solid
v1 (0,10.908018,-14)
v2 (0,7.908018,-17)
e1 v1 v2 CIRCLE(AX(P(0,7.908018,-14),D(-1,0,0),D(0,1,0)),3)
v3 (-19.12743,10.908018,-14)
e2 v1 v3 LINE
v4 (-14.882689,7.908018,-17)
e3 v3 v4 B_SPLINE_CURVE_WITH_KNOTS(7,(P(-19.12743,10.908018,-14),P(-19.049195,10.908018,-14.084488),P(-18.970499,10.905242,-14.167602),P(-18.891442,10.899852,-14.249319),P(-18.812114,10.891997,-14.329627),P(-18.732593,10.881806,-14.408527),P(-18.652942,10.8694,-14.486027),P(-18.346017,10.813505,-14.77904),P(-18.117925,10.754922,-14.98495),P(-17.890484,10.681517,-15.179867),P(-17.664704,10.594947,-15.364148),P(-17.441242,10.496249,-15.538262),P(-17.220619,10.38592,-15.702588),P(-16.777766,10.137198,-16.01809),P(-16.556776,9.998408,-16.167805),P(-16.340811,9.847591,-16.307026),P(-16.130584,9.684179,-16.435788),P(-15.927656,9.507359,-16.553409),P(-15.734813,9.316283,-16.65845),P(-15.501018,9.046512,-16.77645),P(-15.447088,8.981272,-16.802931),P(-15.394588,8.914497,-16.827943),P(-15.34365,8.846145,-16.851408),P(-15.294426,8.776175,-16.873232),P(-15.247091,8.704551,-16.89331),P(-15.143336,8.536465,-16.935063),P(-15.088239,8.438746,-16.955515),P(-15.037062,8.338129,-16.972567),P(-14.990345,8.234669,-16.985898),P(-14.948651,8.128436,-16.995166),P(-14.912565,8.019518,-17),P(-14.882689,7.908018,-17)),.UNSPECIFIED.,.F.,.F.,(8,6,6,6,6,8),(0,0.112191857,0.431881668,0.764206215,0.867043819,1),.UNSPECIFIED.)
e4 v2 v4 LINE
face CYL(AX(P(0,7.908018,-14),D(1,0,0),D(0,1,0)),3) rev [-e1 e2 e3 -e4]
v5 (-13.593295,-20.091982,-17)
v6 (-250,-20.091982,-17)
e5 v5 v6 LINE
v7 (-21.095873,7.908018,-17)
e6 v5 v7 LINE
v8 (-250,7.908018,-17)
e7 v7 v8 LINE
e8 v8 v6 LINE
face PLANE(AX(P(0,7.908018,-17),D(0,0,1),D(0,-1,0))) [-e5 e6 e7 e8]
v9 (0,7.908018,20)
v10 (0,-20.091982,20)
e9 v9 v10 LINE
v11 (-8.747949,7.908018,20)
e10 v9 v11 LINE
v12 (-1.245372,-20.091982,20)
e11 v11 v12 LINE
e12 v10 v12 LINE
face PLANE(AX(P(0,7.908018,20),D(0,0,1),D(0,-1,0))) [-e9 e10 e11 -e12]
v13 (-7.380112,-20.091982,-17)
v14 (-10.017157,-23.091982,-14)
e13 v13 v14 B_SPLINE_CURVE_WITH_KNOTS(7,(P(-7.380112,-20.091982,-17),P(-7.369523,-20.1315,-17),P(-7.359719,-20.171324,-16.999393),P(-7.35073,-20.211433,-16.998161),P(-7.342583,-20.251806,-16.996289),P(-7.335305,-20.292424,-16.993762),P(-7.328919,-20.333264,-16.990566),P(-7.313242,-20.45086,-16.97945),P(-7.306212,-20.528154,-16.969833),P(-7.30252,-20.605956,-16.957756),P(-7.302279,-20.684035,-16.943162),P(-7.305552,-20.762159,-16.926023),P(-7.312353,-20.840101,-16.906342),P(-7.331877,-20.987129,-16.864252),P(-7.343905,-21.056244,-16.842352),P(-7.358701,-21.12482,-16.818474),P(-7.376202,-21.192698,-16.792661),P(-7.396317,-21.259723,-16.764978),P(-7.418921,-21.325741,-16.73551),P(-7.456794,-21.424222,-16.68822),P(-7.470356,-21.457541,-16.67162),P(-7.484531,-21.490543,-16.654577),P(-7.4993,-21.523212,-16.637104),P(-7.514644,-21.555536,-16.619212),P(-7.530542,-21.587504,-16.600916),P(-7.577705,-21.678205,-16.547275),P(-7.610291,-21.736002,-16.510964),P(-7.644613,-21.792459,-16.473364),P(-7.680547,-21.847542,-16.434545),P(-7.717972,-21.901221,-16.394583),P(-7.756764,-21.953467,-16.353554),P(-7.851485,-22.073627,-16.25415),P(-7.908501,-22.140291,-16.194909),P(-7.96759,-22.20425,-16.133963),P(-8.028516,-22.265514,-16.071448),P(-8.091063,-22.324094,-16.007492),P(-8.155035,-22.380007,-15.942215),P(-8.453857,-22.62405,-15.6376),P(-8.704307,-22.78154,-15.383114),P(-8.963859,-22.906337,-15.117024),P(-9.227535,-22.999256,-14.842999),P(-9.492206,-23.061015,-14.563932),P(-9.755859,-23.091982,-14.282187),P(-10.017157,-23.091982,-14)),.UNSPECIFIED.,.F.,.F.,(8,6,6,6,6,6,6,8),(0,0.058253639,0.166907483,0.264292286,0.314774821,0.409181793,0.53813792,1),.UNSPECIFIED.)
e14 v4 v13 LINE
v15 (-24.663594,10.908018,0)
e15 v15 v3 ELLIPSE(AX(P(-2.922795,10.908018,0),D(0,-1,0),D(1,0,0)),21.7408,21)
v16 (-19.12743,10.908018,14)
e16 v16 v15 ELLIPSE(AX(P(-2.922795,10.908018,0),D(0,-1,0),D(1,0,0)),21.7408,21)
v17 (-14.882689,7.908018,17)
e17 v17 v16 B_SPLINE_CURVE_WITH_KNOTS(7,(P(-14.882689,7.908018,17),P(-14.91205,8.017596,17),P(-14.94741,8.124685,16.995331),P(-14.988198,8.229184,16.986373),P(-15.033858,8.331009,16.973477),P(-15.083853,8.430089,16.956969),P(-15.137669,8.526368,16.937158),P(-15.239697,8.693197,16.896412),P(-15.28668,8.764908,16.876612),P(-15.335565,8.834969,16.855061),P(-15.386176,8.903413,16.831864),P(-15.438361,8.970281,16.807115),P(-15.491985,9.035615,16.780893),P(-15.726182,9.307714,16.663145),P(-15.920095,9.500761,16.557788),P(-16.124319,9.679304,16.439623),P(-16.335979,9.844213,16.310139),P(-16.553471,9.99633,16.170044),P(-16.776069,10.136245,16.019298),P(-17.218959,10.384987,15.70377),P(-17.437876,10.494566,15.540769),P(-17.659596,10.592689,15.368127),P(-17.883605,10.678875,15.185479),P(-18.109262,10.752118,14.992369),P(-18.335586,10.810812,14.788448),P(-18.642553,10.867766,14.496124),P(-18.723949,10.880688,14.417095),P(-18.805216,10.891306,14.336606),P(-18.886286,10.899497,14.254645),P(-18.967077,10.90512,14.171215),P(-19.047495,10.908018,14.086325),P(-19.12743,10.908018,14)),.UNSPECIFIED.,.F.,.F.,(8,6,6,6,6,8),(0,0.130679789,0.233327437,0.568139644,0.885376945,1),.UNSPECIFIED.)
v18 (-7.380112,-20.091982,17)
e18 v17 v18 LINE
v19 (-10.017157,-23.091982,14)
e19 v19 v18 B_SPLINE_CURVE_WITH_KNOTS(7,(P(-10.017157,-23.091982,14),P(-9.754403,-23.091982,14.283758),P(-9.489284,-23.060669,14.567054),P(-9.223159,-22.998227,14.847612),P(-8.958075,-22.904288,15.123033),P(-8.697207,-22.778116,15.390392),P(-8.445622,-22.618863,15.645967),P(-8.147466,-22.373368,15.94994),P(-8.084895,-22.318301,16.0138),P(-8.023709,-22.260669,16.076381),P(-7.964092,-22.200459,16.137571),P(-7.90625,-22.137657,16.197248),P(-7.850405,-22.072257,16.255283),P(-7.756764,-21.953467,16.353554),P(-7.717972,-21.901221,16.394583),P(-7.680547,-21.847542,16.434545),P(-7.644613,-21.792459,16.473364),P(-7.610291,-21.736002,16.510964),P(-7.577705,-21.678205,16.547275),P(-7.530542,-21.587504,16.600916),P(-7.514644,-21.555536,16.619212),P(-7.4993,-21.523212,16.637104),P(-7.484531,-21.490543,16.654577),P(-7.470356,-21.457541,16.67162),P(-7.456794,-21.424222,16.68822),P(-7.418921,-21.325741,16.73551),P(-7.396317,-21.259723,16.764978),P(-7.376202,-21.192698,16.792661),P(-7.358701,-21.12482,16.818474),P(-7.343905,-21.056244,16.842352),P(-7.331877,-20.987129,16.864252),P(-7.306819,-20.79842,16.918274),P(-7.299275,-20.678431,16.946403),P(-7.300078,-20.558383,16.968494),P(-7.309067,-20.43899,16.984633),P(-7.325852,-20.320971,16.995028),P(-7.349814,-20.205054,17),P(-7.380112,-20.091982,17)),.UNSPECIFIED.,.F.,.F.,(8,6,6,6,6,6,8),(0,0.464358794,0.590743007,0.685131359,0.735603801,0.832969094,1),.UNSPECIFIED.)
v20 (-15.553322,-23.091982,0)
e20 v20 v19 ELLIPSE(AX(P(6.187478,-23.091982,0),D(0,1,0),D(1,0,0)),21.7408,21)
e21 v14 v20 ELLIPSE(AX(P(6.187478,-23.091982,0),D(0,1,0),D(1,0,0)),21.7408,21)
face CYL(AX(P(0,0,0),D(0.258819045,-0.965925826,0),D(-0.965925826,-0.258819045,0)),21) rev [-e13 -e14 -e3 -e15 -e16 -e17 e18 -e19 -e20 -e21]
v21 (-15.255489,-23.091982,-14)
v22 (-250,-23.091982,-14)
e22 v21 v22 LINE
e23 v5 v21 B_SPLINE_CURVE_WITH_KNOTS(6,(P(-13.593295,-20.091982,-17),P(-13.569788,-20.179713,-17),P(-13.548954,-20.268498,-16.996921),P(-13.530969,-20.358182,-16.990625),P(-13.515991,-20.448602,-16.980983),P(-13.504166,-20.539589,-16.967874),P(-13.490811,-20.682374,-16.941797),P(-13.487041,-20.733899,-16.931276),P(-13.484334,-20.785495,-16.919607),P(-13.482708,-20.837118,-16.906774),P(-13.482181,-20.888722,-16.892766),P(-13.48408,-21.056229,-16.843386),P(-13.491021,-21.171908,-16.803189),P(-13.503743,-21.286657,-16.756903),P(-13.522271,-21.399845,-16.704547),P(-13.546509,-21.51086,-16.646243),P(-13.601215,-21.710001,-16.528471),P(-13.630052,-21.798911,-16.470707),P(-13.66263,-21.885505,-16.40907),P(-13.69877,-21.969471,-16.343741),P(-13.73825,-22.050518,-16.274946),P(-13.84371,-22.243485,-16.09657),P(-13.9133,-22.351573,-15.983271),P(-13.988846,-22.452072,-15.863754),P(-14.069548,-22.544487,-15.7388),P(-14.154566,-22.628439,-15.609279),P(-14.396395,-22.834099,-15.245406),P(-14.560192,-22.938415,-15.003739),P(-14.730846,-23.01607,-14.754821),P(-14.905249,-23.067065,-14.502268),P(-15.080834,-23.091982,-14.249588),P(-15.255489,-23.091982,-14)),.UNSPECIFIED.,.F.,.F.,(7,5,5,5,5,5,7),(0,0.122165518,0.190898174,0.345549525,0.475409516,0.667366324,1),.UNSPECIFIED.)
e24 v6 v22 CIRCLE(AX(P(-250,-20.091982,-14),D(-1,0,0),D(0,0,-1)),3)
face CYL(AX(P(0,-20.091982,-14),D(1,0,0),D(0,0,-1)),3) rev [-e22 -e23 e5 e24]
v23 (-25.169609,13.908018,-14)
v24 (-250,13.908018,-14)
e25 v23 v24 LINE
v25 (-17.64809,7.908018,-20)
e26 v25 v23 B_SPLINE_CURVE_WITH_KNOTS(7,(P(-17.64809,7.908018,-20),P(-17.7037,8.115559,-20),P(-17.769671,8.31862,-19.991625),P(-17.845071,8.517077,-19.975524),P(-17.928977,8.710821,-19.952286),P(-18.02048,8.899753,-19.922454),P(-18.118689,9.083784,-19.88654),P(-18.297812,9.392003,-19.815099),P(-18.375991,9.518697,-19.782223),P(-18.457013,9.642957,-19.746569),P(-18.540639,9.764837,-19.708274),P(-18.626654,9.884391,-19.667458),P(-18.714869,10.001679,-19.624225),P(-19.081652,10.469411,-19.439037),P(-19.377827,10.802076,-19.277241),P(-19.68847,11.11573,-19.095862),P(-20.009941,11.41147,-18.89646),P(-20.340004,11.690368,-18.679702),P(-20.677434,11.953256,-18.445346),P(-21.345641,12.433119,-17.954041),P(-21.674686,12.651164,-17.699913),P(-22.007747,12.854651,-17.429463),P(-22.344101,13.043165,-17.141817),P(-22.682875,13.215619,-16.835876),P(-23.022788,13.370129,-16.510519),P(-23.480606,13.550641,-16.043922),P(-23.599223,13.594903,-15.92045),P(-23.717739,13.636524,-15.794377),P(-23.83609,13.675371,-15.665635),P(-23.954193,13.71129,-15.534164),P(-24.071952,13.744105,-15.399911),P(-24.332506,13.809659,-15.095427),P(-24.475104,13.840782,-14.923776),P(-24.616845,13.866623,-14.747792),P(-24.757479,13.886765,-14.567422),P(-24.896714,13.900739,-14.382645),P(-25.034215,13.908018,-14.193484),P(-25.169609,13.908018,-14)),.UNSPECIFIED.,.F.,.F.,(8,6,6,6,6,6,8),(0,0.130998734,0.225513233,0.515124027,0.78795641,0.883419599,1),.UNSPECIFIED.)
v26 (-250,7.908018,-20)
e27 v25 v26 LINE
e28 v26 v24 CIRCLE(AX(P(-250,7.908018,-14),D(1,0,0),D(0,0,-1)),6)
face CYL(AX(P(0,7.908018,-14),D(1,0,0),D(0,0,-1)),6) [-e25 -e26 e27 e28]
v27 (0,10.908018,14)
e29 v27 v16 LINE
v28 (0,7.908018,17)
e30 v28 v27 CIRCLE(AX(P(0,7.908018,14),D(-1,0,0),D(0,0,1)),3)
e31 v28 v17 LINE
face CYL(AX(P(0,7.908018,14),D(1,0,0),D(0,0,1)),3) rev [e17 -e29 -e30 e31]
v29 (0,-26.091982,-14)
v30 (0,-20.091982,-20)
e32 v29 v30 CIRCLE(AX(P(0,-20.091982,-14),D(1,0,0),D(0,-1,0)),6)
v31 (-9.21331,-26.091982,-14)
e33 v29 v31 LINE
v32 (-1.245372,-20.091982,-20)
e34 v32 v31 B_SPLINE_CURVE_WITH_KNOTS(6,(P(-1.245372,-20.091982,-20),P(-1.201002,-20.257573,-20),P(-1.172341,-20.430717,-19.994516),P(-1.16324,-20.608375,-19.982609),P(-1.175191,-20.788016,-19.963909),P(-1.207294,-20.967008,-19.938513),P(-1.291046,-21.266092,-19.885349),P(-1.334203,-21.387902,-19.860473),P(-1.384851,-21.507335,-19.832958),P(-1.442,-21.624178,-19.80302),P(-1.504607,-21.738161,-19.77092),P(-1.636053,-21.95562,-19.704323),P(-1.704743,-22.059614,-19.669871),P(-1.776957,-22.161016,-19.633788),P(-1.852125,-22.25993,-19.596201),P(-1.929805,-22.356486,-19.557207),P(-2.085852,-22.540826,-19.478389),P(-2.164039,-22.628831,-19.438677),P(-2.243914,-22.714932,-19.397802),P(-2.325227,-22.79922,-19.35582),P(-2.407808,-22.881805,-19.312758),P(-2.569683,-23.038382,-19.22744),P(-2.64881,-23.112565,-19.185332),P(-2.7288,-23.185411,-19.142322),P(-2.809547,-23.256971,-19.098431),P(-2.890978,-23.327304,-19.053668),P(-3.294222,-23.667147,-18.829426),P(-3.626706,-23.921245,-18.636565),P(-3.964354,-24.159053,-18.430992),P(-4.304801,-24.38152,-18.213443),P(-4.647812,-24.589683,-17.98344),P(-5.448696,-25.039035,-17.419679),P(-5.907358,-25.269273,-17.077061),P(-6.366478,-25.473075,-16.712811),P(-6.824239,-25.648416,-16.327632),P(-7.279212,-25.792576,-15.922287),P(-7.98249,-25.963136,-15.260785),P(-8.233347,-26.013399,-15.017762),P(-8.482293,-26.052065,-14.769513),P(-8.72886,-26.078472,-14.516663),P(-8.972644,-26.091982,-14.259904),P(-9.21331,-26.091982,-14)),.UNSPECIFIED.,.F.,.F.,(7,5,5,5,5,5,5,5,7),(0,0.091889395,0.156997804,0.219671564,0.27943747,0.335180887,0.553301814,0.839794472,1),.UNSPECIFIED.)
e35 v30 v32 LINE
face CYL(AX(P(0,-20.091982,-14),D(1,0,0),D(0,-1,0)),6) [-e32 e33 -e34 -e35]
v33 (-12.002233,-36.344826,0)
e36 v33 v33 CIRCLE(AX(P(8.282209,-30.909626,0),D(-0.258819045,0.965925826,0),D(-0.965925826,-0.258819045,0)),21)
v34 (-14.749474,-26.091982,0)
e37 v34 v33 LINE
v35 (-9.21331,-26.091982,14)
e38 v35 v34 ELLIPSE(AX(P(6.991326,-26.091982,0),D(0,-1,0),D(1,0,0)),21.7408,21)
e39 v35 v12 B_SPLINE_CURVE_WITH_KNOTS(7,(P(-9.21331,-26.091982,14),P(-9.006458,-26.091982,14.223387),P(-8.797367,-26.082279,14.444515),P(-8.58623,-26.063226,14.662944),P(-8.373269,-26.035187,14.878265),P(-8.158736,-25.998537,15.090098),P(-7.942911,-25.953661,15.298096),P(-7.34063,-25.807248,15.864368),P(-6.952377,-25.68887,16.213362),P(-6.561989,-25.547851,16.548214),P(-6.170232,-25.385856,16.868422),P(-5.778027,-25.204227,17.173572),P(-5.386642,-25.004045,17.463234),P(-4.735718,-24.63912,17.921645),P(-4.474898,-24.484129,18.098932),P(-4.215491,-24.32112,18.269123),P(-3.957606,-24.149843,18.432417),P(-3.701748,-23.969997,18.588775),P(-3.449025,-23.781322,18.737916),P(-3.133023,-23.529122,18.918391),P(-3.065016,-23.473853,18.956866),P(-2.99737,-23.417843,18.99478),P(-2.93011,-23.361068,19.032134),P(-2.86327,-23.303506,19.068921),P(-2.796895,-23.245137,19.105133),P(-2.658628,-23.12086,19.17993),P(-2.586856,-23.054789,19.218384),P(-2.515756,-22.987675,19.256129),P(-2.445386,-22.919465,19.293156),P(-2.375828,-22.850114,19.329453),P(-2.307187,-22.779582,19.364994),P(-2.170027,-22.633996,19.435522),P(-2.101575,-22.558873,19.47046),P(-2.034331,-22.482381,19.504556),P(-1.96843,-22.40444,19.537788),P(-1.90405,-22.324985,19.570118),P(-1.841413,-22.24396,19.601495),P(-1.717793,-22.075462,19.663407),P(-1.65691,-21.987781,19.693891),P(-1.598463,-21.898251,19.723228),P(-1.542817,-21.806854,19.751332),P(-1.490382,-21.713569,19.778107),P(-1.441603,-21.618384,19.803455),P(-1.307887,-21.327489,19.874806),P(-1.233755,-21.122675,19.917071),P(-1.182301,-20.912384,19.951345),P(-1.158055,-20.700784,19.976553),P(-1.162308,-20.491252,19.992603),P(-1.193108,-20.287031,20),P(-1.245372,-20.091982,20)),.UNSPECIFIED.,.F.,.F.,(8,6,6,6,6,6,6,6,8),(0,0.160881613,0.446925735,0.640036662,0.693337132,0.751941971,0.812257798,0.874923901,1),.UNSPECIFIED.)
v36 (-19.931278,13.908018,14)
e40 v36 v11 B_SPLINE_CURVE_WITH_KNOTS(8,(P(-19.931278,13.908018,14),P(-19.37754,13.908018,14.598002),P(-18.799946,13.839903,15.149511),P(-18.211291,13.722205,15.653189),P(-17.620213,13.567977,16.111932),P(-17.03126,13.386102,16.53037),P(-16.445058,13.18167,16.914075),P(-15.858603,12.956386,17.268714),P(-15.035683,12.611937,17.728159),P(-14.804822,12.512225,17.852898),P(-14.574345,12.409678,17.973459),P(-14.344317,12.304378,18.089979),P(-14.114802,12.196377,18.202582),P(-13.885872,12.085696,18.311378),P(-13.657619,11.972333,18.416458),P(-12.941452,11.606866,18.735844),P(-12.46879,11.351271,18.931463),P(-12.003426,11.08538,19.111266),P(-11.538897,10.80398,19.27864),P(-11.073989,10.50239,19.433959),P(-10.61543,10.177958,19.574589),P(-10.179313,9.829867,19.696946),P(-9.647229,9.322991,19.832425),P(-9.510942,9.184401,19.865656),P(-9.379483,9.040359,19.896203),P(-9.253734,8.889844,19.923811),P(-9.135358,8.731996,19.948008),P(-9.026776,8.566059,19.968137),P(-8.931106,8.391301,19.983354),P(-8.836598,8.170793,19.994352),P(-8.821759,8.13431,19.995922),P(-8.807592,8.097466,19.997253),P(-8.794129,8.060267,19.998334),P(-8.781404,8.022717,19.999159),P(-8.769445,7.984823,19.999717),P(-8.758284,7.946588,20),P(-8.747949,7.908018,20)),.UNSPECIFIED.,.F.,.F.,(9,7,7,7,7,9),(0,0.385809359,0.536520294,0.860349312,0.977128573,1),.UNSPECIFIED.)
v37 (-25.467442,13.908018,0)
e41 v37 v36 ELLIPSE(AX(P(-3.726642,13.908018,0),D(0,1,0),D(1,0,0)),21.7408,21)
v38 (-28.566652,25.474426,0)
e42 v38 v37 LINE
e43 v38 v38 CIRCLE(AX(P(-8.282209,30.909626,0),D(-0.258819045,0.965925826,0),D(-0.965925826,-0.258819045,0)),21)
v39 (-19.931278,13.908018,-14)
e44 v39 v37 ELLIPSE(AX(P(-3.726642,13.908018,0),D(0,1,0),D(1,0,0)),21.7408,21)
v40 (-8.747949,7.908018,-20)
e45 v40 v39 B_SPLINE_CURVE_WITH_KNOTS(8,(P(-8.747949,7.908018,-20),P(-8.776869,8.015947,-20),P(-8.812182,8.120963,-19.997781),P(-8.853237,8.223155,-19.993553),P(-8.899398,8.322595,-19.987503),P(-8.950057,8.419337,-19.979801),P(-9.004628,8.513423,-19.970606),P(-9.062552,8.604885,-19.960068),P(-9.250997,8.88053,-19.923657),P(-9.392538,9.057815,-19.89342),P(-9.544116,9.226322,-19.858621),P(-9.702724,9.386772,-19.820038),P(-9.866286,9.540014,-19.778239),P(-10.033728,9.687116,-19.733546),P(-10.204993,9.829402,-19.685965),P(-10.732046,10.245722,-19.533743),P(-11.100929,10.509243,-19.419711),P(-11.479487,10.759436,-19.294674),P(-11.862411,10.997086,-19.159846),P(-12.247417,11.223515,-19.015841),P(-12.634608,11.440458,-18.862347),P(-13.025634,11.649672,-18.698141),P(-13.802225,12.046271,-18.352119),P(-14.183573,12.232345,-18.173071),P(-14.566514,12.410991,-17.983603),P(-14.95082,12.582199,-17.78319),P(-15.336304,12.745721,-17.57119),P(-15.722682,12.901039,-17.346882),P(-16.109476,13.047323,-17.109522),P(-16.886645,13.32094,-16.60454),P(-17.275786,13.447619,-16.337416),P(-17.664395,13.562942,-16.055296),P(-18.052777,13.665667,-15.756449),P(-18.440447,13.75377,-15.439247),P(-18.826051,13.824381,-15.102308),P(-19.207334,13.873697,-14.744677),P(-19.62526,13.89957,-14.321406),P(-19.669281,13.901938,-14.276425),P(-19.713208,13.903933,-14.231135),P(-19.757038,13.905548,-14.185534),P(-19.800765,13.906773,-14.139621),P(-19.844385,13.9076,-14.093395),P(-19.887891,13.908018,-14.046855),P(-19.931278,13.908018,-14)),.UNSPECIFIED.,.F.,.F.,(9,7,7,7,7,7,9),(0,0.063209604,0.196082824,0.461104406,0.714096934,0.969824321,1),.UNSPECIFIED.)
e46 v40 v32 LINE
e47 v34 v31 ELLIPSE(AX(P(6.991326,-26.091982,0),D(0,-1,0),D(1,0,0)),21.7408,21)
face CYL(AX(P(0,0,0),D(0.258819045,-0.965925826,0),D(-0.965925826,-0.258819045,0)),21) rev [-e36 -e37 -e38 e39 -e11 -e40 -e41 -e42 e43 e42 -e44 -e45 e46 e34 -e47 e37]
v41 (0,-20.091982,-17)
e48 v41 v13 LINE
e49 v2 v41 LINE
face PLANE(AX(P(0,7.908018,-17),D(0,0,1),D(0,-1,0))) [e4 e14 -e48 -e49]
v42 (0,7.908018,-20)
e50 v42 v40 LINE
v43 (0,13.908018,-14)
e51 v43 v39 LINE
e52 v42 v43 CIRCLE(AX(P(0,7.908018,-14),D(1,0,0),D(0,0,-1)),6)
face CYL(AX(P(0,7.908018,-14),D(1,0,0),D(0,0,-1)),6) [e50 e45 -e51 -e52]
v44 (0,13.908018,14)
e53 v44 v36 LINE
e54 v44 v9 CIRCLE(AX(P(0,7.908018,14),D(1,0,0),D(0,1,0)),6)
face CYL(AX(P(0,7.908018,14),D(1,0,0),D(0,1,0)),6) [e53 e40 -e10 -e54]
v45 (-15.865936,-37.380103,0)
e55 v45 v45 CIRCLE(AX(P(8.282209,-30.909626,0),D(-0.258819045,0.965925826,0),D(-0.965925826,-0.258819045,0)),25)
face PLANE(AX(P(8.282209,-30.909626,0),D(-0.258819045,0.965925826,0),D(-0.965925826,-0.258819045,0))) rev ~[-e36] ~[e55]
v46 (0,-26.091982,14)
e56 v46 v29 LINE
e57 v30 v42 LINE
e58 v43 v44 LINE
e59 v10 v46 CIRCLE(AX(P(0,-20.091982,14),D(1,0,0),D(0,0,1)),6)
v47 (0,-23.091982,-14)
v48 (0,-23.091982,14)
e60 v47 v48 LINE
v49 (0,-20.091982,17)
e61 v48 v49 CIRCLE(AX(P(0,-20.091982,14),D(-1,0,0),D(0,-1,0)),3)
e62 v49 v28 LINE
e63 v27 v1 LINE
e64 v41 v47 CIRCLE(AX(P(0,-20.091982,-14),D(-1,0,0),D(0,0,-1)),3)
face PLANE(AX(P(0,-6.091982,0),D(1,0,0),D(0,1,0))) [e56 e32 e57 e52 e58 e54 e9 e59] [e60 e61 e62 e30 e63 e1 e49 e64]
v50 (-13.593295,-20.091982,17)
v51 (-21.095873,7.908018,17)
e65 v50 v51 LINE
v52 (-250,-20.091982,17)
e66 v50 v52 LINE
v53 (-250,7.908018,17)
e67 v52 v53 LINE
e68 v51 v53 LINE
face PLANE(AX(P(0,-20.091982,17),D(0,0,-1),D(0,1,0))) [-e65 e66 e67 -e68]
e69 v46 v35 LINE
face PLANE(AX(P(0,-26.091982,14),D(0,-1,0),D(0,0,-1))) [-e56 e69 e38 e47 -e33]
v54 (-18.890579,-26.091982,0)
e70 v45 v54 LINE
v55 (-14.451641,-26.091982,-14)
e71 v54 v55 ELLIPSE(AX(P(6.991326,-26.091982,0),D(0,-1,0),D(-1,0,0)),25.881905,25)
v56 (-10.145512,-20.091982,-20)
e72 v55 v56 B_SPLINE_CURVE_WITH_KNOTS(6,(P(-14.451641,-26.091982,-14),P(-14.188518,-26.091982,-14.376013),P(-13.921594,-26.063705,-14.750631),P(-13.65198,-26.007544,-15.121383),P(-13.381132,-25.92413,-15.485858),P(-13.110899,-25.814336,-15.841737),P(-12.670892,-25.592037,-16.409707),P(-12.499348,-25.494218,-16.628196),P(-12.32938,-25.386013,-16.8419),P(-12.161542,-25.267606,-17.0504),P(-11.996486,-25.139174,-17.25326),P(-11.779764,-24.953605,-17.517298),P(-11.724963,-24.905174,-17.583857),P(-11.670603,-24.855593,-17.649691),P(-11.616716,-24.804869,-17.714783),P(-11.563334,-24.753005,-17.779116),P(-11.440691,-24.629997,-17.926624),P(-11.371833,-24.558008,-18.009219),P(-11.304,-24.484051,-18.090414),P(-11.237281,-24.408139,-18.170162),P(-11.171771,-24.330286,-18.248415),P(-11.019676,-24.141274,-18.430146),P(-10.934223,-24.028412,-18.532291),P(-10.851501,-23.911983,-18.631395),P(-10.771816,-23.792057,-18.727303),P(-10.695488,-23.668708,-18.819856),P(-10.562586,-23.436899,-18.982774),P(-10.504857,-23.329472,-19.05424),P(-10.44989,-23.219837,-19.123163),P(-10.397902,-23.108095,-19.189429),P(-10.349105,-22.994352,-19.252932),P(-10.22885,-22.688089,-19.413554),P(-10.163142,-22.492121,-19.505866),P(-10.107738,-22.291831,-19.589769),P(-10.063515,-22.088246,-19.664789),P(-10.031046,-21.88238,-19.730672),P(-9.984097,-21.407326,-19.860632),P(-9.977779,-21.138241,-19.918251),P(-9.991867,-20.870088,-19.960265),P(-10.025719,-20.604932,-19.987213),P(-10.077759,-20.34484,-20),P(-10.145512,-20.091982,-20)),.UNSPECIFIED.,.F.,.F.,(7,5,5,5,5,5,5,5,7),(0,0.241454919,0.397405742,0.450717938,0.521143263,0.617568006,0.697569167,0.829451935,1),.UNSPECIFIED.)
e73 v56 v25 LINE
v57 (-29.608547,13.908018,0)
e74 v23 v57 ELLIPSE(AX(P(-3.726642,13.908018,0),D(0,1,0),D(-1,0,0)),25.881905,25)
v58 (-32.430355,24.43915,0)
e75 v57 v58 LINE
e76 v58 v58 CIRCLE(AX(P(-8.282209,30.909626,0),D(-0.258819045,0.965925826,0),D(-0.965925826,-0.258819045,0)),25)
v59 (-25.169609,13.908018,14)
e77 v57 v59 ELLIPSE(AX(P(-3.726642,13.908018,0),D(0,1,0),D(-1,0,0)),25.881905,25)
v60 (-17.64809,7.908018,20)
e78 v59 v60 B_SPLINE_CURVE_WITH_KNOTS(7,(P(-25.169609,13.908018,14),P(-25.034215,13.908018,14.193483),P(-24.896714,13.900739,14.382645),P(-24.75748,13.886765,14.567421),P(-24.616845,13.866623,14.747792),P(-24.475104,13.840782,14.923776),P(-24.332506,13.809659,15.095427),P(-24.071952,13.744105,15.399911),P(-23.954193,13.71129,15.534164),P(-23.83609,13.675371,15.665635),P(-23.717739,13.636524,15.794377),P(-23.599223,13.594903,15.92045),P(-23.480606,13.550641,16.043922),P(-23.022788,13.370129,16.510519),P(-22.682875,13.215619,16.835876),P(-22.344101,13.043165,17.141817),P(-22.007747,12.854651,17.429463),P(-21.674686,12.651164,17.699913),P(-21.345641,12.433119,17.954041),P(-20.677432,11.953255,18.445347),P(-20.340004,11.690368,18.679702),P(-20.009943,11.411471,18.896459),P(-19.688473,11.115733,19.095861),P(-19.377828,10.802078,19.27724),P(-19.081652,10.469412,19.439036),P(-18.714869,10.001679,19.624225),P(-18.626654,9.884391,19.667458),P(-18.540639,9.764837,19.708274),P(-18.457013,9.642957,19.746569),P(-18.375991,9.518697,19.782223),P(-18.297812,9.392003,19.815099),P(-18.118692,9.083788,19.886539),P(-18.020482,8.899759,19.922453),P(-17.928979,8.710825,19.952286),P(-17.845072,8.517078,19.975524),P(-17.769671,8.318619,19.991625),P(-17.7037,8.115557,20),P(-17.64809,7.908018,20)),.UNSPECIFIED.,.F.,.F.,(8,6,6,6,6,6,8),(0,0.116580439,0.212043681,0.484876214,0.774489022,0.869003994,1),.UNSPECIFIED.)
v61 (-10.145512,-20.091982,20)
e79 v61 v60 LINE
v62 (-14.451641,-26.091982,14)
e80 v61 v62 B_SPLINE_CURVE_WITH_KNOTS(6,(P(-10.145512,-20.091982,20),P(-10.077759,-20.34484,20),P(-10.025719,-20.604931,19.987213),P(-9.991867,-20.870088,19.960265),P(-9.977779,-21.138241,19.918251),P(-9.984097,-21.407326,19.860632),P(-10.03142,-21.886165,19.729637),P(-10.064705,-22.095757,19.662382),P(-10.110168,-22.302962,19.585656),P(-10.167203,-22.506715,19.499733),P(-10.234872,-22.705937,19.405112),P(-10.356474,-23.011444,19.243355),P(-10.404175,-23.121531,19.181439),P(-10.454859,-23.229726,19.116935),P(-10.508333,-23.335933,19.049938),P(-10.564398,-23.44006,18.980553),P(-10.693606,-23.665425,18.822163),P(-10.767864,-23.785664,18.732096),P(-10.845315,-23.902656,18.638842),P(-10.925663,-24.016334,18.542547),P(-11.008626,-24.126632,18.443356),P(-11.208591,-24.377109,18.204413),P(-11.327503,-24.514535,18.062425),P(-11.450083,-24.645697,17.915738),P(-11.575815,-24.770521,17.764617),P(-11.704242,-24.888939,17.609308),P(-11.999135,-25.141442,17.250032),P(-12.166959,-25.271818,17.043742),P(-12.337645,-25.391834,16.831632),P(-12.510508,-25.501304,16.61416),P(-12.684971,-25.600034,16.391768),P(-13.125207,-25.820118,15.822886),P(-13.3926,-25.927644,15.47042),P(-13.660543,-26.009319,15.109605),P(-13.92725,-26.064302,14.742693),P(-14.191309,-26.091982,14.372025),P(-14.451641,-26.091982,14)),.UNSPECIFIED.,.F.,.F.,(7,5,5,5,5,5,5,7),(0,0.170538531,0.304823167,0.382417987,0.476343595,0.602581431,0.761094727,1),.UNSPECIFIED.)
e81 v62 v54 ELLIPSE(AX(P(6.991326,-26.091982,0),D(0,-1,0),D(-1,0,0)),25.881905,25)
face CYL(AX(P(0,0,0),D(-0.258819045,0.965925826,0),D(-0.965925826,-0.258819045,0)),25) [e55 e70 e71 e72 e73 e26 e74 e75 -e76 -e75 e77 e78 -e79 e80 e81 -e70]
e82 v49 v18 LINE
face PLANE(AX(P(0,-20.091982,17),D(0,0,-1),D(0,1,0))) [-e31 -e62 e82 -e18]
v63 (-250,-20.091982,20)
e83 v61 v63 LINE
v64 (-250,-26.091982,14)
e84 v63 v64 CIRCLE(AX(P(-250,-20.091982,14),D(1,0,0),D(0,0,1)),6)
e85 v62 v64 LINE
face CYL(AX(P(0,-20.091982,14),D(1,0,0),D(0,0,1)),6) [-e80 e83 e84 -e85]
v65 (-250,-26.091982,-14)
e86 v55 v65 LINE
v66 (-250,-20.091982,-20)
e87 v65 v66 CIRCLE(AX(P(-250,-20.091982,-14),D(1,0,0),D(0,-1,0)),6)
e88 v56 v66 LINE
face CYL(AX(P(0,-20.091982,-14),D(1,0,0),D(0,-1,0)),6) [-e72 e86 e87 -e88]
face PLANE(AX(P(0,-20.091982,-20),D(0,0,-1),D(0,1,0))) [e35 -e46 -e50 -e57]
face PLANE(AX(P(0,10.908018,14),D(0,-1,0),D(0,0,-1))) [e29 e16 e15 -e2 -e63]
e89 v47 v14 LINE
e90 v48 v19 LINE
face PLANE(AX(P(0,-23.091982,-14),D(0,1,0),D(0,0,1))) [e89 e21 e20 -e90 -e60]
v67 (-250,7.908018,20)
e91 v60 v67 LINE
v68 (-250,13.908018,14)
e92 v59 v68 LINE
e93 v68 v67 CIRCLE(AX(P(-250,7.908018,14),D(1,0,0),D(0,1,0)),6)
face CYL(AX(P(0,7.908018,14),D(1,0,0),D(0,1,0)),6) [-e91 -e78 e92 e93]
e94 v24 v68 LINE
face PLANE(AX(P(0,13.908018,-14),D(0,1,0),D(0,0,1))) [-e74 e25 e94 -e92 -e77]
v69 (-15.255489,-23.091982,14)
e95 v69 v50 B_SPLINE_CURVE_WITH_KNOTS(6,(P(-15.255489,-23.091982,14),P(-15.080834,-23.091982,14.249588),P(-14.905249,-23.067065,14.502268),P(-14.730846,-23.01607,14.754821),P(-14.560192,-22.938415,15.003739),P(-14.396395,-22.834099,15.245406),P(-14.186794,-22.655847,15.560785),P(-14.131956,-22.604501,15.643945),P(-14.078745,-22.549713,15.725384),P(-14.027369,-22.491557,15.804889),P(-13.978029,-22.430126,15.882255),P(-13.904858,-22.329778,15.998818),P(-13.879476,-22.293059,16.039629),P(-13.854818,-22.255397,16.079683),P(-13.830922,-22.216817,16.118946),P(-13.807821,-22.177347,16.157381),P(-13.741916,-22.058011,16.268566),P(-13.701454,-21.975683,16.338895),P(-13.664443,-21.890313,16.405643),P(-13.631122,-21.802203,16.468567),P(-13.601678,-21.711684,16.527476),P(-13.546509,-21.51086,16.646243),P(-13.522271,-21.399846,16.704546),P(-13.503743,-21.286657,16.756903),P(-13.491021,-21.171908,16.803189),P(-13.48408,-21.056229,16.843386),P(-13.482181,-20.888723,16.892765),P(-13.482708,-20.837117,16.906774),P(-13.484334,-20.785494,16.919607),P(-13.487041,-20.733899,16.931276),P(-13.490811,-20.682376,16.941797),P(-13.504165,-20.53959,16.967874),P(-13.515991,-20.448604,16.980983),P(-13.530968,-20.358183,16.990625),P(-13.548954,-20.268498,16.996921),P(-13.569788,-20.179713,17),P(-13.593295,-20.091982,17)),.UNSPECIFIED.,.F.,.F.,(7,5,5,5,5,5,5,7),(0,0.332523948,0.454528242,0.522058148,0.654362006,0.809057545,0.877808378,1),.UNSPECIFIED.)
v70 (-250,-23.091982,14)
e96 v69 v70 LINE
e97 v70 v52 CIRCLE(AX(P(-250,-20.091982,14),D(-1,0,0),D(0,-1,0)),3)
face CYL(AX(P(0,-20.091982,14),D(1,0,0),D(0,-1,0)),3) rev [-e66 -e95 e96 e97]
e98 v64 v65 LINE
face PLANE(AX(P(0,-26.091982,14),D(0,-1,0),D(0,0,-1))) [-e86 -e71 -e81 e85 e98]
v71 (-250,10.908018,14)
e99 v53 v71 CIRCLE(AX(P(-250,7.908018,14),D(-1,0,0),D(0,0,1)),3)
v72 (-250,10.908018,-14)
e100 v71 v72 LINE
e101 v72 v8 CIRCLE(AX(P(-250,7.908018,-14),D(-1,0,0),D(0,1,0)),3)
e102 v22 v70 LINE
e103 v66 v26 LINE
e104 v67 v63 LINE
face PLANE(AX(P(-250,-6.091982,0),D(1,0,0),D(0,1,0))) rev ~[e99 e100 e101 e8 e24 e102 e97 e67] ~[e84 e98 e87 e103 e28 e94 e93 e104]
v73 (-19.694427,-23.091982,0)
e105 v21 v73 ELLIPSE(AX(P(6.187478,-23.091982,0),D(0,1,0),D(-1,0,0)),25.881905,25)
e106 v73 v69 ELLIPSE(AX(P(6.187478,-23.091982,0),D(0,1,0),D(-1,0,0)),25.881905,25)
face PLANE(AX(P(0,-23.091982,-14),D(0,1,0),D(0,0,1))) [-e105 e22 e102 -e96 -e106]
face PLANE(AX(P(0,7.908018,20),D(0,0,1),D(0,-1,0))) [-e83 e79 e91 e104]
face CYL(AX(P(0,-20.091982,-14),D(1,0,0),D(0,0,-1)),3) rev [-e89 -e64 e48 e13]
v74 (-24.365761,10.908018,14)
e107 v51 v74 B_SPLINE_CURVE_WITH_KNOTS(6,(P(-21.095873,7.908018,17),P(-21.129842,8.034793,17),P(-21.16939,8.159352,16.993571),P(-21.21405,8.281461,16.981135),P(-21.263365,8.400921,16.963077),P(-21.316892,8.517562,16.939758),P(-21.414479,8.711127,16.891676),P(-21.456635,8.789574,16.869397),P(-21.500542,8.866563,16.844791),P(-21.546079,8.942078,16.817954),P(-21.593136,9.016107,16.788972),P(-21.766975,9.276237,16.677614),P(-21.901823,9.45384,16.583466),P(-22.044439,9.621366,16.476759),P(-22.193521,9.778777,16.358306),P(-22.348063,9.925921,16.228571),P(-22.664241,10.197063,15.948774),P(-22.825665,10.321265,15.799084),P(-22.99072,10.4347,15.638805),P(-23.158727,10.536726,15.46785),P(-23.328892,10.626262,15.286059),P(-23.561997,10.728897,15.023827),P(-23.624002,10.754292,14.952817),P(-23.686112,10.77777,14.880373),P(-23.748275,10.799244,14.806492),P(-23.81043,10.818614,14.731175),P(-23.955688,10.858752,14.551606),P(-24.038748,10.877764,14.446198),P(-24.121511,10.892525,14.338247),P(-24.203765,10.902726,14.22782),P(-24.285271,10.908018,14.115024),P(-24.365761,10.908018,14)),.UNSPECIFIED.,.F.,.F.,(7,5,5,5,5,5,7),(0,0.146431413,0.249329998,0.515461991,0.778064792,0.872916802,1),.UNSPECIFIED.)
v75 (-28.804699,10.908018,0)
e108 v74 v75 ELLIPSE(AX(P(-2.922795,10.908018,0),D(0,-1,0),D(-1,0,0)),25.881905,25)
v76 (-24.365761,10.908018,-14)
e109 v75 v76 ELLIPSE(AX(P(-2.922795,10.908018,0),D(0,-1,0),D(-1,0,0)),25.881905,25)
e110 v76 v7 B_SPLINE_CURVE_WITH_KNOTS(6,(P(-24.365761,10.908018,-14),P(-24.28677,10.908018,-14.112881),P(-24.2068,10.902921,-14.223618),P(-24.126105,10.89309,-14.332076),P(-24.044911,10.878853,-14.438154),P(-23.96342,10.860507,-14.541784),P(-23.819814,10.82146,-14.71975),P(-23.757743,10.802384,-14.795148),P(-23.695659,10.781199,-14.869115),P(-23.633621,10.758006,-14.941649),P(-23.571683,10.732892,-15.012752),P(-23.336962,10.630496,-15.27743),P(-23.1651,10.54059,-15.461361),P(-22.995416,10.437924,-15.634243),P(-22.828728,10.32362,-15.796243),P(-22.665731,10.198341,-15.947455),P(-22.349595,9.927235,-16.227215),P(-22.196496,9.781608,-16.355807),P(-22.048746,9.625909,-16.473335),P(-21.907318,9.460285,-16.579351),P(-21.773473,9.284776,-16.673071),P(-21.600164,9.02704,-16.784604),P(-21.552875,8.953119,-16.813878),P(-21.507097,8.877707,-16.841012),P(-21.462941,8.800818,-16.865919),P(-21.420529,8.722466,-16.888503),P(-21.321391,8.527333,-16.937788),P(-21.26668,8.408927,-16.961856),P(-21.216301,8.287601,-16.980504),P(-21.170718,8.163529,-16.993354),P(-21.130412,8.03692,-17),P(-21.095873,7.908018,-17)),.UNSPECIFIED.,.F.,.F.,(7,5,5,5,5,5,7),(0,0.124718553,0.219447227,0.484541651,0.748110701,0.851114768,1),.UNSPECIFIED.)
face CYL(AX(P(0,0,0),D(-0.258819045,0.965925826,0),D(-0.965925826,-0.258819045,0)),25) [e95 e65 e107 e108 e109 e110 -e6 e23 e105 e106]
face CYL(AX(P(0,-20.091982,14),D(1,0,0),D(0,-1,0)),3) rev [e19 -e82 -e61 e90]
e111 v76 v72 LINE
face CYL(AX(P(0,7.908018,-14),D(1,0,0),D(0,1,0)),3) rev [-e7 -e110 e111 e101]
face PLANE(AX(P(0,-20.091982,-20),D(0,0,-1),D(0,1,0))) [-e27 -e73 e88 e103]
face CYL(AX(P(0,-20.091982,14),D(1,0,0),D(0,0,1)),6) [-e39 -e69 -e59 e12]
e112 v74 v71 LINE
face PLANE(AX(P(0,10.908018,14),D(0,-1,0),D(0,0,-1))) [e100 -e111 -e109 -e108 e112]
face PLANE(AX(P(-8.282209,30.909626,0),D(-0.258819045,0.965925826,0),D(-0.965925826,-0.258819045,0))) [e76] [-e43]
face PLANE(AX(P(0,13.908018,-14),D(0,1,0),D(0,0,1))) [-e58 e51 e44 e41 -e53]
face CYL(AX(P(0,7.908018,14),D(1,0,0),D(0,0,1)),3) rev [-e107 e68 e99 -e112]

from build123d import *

# Parameters (mm, degrees)
F0_R     = 25
F0_R_2   = 21
F1_DEPTH = 32
F2_ANGLE = 165
F4_DEPTH = 250


with BuildPart() as f1:
    # F0 (on Front) → F1 (new body, symmetric)
    with BuildSketch(Plane.XZ):
        Circle(F0_R)
        Circle(F0_R_2, mode=Mode.SUBTRACT)
    extrude(amount=F1_DEPTH, both=True)


with BuildPart() as f1_1:
    # F2: moved
    add(f1.part.rotate(Axis((0, 0, -29.1226431727), (0, 0, -1)), F2_ANGLE))

    # F3 (on Right) → F4 (join)
    with BuildSketch(Plane.YZ):
        with BuildLine():
            ThreePointArc((-26.0919821262, -14), (-24.3346228134, -18.2426406871), (-20.0919821262, -20))
            Line((-20.0919821262, -20), (7.9080178738, -20))
            ThreePointArc((7.9080178738, -20), (12.1506585609, -18.2426406871), (13.9080178738, -14))
            Line((13.9080178738, -14), (13.9080178738, 14))
            ThreePointArc((13.9080178738, 14), (12.1506585609, 18.2426406871), (7.9080178738, 20))
            Line((7.9080178738, 20), (-20.0919821262, 20))
            ThreePointArc((-20.0919821262, 20), (-24.3346228134, 18.2426406871), (-26.0919821262, 14))
            Line((-26.0919821262, 14), (-26.0919821262, -14))
        make_face()
        with BuildLine():
            Line((7.9080178738, -17), (-20.0919821262, -17))
            ThreePointArc((-20.0919821262, -17), (-22.2133024698, -16.1213203436), (-23.0919821262, -14))
            Line((-23.0919821262, -14), (-23.0919821262, 14))
            ThreePointArc((-23.0919821262, 14), (-22.2133024698, 16.1213203436), (-20.0919821262, 17))
            Line((-20.0919821262, 17), (7.9080178738, 17))
            ThreePointArc((7.9080178738, 17), (10.0293382173, 16.1213203436), (10.9080178738, 14))
            Line((10.9080178738, 14), (10.9080178738, -14))
            ThreePointArc((10.9080178738, -14), (10.0293382173, -16.1213203436), (7.9080178738, -17))
        make_face(mode=Mode.SUBTRACT)
    extrude(amount=-F4_DEPTH)


solid = f1_1.part
